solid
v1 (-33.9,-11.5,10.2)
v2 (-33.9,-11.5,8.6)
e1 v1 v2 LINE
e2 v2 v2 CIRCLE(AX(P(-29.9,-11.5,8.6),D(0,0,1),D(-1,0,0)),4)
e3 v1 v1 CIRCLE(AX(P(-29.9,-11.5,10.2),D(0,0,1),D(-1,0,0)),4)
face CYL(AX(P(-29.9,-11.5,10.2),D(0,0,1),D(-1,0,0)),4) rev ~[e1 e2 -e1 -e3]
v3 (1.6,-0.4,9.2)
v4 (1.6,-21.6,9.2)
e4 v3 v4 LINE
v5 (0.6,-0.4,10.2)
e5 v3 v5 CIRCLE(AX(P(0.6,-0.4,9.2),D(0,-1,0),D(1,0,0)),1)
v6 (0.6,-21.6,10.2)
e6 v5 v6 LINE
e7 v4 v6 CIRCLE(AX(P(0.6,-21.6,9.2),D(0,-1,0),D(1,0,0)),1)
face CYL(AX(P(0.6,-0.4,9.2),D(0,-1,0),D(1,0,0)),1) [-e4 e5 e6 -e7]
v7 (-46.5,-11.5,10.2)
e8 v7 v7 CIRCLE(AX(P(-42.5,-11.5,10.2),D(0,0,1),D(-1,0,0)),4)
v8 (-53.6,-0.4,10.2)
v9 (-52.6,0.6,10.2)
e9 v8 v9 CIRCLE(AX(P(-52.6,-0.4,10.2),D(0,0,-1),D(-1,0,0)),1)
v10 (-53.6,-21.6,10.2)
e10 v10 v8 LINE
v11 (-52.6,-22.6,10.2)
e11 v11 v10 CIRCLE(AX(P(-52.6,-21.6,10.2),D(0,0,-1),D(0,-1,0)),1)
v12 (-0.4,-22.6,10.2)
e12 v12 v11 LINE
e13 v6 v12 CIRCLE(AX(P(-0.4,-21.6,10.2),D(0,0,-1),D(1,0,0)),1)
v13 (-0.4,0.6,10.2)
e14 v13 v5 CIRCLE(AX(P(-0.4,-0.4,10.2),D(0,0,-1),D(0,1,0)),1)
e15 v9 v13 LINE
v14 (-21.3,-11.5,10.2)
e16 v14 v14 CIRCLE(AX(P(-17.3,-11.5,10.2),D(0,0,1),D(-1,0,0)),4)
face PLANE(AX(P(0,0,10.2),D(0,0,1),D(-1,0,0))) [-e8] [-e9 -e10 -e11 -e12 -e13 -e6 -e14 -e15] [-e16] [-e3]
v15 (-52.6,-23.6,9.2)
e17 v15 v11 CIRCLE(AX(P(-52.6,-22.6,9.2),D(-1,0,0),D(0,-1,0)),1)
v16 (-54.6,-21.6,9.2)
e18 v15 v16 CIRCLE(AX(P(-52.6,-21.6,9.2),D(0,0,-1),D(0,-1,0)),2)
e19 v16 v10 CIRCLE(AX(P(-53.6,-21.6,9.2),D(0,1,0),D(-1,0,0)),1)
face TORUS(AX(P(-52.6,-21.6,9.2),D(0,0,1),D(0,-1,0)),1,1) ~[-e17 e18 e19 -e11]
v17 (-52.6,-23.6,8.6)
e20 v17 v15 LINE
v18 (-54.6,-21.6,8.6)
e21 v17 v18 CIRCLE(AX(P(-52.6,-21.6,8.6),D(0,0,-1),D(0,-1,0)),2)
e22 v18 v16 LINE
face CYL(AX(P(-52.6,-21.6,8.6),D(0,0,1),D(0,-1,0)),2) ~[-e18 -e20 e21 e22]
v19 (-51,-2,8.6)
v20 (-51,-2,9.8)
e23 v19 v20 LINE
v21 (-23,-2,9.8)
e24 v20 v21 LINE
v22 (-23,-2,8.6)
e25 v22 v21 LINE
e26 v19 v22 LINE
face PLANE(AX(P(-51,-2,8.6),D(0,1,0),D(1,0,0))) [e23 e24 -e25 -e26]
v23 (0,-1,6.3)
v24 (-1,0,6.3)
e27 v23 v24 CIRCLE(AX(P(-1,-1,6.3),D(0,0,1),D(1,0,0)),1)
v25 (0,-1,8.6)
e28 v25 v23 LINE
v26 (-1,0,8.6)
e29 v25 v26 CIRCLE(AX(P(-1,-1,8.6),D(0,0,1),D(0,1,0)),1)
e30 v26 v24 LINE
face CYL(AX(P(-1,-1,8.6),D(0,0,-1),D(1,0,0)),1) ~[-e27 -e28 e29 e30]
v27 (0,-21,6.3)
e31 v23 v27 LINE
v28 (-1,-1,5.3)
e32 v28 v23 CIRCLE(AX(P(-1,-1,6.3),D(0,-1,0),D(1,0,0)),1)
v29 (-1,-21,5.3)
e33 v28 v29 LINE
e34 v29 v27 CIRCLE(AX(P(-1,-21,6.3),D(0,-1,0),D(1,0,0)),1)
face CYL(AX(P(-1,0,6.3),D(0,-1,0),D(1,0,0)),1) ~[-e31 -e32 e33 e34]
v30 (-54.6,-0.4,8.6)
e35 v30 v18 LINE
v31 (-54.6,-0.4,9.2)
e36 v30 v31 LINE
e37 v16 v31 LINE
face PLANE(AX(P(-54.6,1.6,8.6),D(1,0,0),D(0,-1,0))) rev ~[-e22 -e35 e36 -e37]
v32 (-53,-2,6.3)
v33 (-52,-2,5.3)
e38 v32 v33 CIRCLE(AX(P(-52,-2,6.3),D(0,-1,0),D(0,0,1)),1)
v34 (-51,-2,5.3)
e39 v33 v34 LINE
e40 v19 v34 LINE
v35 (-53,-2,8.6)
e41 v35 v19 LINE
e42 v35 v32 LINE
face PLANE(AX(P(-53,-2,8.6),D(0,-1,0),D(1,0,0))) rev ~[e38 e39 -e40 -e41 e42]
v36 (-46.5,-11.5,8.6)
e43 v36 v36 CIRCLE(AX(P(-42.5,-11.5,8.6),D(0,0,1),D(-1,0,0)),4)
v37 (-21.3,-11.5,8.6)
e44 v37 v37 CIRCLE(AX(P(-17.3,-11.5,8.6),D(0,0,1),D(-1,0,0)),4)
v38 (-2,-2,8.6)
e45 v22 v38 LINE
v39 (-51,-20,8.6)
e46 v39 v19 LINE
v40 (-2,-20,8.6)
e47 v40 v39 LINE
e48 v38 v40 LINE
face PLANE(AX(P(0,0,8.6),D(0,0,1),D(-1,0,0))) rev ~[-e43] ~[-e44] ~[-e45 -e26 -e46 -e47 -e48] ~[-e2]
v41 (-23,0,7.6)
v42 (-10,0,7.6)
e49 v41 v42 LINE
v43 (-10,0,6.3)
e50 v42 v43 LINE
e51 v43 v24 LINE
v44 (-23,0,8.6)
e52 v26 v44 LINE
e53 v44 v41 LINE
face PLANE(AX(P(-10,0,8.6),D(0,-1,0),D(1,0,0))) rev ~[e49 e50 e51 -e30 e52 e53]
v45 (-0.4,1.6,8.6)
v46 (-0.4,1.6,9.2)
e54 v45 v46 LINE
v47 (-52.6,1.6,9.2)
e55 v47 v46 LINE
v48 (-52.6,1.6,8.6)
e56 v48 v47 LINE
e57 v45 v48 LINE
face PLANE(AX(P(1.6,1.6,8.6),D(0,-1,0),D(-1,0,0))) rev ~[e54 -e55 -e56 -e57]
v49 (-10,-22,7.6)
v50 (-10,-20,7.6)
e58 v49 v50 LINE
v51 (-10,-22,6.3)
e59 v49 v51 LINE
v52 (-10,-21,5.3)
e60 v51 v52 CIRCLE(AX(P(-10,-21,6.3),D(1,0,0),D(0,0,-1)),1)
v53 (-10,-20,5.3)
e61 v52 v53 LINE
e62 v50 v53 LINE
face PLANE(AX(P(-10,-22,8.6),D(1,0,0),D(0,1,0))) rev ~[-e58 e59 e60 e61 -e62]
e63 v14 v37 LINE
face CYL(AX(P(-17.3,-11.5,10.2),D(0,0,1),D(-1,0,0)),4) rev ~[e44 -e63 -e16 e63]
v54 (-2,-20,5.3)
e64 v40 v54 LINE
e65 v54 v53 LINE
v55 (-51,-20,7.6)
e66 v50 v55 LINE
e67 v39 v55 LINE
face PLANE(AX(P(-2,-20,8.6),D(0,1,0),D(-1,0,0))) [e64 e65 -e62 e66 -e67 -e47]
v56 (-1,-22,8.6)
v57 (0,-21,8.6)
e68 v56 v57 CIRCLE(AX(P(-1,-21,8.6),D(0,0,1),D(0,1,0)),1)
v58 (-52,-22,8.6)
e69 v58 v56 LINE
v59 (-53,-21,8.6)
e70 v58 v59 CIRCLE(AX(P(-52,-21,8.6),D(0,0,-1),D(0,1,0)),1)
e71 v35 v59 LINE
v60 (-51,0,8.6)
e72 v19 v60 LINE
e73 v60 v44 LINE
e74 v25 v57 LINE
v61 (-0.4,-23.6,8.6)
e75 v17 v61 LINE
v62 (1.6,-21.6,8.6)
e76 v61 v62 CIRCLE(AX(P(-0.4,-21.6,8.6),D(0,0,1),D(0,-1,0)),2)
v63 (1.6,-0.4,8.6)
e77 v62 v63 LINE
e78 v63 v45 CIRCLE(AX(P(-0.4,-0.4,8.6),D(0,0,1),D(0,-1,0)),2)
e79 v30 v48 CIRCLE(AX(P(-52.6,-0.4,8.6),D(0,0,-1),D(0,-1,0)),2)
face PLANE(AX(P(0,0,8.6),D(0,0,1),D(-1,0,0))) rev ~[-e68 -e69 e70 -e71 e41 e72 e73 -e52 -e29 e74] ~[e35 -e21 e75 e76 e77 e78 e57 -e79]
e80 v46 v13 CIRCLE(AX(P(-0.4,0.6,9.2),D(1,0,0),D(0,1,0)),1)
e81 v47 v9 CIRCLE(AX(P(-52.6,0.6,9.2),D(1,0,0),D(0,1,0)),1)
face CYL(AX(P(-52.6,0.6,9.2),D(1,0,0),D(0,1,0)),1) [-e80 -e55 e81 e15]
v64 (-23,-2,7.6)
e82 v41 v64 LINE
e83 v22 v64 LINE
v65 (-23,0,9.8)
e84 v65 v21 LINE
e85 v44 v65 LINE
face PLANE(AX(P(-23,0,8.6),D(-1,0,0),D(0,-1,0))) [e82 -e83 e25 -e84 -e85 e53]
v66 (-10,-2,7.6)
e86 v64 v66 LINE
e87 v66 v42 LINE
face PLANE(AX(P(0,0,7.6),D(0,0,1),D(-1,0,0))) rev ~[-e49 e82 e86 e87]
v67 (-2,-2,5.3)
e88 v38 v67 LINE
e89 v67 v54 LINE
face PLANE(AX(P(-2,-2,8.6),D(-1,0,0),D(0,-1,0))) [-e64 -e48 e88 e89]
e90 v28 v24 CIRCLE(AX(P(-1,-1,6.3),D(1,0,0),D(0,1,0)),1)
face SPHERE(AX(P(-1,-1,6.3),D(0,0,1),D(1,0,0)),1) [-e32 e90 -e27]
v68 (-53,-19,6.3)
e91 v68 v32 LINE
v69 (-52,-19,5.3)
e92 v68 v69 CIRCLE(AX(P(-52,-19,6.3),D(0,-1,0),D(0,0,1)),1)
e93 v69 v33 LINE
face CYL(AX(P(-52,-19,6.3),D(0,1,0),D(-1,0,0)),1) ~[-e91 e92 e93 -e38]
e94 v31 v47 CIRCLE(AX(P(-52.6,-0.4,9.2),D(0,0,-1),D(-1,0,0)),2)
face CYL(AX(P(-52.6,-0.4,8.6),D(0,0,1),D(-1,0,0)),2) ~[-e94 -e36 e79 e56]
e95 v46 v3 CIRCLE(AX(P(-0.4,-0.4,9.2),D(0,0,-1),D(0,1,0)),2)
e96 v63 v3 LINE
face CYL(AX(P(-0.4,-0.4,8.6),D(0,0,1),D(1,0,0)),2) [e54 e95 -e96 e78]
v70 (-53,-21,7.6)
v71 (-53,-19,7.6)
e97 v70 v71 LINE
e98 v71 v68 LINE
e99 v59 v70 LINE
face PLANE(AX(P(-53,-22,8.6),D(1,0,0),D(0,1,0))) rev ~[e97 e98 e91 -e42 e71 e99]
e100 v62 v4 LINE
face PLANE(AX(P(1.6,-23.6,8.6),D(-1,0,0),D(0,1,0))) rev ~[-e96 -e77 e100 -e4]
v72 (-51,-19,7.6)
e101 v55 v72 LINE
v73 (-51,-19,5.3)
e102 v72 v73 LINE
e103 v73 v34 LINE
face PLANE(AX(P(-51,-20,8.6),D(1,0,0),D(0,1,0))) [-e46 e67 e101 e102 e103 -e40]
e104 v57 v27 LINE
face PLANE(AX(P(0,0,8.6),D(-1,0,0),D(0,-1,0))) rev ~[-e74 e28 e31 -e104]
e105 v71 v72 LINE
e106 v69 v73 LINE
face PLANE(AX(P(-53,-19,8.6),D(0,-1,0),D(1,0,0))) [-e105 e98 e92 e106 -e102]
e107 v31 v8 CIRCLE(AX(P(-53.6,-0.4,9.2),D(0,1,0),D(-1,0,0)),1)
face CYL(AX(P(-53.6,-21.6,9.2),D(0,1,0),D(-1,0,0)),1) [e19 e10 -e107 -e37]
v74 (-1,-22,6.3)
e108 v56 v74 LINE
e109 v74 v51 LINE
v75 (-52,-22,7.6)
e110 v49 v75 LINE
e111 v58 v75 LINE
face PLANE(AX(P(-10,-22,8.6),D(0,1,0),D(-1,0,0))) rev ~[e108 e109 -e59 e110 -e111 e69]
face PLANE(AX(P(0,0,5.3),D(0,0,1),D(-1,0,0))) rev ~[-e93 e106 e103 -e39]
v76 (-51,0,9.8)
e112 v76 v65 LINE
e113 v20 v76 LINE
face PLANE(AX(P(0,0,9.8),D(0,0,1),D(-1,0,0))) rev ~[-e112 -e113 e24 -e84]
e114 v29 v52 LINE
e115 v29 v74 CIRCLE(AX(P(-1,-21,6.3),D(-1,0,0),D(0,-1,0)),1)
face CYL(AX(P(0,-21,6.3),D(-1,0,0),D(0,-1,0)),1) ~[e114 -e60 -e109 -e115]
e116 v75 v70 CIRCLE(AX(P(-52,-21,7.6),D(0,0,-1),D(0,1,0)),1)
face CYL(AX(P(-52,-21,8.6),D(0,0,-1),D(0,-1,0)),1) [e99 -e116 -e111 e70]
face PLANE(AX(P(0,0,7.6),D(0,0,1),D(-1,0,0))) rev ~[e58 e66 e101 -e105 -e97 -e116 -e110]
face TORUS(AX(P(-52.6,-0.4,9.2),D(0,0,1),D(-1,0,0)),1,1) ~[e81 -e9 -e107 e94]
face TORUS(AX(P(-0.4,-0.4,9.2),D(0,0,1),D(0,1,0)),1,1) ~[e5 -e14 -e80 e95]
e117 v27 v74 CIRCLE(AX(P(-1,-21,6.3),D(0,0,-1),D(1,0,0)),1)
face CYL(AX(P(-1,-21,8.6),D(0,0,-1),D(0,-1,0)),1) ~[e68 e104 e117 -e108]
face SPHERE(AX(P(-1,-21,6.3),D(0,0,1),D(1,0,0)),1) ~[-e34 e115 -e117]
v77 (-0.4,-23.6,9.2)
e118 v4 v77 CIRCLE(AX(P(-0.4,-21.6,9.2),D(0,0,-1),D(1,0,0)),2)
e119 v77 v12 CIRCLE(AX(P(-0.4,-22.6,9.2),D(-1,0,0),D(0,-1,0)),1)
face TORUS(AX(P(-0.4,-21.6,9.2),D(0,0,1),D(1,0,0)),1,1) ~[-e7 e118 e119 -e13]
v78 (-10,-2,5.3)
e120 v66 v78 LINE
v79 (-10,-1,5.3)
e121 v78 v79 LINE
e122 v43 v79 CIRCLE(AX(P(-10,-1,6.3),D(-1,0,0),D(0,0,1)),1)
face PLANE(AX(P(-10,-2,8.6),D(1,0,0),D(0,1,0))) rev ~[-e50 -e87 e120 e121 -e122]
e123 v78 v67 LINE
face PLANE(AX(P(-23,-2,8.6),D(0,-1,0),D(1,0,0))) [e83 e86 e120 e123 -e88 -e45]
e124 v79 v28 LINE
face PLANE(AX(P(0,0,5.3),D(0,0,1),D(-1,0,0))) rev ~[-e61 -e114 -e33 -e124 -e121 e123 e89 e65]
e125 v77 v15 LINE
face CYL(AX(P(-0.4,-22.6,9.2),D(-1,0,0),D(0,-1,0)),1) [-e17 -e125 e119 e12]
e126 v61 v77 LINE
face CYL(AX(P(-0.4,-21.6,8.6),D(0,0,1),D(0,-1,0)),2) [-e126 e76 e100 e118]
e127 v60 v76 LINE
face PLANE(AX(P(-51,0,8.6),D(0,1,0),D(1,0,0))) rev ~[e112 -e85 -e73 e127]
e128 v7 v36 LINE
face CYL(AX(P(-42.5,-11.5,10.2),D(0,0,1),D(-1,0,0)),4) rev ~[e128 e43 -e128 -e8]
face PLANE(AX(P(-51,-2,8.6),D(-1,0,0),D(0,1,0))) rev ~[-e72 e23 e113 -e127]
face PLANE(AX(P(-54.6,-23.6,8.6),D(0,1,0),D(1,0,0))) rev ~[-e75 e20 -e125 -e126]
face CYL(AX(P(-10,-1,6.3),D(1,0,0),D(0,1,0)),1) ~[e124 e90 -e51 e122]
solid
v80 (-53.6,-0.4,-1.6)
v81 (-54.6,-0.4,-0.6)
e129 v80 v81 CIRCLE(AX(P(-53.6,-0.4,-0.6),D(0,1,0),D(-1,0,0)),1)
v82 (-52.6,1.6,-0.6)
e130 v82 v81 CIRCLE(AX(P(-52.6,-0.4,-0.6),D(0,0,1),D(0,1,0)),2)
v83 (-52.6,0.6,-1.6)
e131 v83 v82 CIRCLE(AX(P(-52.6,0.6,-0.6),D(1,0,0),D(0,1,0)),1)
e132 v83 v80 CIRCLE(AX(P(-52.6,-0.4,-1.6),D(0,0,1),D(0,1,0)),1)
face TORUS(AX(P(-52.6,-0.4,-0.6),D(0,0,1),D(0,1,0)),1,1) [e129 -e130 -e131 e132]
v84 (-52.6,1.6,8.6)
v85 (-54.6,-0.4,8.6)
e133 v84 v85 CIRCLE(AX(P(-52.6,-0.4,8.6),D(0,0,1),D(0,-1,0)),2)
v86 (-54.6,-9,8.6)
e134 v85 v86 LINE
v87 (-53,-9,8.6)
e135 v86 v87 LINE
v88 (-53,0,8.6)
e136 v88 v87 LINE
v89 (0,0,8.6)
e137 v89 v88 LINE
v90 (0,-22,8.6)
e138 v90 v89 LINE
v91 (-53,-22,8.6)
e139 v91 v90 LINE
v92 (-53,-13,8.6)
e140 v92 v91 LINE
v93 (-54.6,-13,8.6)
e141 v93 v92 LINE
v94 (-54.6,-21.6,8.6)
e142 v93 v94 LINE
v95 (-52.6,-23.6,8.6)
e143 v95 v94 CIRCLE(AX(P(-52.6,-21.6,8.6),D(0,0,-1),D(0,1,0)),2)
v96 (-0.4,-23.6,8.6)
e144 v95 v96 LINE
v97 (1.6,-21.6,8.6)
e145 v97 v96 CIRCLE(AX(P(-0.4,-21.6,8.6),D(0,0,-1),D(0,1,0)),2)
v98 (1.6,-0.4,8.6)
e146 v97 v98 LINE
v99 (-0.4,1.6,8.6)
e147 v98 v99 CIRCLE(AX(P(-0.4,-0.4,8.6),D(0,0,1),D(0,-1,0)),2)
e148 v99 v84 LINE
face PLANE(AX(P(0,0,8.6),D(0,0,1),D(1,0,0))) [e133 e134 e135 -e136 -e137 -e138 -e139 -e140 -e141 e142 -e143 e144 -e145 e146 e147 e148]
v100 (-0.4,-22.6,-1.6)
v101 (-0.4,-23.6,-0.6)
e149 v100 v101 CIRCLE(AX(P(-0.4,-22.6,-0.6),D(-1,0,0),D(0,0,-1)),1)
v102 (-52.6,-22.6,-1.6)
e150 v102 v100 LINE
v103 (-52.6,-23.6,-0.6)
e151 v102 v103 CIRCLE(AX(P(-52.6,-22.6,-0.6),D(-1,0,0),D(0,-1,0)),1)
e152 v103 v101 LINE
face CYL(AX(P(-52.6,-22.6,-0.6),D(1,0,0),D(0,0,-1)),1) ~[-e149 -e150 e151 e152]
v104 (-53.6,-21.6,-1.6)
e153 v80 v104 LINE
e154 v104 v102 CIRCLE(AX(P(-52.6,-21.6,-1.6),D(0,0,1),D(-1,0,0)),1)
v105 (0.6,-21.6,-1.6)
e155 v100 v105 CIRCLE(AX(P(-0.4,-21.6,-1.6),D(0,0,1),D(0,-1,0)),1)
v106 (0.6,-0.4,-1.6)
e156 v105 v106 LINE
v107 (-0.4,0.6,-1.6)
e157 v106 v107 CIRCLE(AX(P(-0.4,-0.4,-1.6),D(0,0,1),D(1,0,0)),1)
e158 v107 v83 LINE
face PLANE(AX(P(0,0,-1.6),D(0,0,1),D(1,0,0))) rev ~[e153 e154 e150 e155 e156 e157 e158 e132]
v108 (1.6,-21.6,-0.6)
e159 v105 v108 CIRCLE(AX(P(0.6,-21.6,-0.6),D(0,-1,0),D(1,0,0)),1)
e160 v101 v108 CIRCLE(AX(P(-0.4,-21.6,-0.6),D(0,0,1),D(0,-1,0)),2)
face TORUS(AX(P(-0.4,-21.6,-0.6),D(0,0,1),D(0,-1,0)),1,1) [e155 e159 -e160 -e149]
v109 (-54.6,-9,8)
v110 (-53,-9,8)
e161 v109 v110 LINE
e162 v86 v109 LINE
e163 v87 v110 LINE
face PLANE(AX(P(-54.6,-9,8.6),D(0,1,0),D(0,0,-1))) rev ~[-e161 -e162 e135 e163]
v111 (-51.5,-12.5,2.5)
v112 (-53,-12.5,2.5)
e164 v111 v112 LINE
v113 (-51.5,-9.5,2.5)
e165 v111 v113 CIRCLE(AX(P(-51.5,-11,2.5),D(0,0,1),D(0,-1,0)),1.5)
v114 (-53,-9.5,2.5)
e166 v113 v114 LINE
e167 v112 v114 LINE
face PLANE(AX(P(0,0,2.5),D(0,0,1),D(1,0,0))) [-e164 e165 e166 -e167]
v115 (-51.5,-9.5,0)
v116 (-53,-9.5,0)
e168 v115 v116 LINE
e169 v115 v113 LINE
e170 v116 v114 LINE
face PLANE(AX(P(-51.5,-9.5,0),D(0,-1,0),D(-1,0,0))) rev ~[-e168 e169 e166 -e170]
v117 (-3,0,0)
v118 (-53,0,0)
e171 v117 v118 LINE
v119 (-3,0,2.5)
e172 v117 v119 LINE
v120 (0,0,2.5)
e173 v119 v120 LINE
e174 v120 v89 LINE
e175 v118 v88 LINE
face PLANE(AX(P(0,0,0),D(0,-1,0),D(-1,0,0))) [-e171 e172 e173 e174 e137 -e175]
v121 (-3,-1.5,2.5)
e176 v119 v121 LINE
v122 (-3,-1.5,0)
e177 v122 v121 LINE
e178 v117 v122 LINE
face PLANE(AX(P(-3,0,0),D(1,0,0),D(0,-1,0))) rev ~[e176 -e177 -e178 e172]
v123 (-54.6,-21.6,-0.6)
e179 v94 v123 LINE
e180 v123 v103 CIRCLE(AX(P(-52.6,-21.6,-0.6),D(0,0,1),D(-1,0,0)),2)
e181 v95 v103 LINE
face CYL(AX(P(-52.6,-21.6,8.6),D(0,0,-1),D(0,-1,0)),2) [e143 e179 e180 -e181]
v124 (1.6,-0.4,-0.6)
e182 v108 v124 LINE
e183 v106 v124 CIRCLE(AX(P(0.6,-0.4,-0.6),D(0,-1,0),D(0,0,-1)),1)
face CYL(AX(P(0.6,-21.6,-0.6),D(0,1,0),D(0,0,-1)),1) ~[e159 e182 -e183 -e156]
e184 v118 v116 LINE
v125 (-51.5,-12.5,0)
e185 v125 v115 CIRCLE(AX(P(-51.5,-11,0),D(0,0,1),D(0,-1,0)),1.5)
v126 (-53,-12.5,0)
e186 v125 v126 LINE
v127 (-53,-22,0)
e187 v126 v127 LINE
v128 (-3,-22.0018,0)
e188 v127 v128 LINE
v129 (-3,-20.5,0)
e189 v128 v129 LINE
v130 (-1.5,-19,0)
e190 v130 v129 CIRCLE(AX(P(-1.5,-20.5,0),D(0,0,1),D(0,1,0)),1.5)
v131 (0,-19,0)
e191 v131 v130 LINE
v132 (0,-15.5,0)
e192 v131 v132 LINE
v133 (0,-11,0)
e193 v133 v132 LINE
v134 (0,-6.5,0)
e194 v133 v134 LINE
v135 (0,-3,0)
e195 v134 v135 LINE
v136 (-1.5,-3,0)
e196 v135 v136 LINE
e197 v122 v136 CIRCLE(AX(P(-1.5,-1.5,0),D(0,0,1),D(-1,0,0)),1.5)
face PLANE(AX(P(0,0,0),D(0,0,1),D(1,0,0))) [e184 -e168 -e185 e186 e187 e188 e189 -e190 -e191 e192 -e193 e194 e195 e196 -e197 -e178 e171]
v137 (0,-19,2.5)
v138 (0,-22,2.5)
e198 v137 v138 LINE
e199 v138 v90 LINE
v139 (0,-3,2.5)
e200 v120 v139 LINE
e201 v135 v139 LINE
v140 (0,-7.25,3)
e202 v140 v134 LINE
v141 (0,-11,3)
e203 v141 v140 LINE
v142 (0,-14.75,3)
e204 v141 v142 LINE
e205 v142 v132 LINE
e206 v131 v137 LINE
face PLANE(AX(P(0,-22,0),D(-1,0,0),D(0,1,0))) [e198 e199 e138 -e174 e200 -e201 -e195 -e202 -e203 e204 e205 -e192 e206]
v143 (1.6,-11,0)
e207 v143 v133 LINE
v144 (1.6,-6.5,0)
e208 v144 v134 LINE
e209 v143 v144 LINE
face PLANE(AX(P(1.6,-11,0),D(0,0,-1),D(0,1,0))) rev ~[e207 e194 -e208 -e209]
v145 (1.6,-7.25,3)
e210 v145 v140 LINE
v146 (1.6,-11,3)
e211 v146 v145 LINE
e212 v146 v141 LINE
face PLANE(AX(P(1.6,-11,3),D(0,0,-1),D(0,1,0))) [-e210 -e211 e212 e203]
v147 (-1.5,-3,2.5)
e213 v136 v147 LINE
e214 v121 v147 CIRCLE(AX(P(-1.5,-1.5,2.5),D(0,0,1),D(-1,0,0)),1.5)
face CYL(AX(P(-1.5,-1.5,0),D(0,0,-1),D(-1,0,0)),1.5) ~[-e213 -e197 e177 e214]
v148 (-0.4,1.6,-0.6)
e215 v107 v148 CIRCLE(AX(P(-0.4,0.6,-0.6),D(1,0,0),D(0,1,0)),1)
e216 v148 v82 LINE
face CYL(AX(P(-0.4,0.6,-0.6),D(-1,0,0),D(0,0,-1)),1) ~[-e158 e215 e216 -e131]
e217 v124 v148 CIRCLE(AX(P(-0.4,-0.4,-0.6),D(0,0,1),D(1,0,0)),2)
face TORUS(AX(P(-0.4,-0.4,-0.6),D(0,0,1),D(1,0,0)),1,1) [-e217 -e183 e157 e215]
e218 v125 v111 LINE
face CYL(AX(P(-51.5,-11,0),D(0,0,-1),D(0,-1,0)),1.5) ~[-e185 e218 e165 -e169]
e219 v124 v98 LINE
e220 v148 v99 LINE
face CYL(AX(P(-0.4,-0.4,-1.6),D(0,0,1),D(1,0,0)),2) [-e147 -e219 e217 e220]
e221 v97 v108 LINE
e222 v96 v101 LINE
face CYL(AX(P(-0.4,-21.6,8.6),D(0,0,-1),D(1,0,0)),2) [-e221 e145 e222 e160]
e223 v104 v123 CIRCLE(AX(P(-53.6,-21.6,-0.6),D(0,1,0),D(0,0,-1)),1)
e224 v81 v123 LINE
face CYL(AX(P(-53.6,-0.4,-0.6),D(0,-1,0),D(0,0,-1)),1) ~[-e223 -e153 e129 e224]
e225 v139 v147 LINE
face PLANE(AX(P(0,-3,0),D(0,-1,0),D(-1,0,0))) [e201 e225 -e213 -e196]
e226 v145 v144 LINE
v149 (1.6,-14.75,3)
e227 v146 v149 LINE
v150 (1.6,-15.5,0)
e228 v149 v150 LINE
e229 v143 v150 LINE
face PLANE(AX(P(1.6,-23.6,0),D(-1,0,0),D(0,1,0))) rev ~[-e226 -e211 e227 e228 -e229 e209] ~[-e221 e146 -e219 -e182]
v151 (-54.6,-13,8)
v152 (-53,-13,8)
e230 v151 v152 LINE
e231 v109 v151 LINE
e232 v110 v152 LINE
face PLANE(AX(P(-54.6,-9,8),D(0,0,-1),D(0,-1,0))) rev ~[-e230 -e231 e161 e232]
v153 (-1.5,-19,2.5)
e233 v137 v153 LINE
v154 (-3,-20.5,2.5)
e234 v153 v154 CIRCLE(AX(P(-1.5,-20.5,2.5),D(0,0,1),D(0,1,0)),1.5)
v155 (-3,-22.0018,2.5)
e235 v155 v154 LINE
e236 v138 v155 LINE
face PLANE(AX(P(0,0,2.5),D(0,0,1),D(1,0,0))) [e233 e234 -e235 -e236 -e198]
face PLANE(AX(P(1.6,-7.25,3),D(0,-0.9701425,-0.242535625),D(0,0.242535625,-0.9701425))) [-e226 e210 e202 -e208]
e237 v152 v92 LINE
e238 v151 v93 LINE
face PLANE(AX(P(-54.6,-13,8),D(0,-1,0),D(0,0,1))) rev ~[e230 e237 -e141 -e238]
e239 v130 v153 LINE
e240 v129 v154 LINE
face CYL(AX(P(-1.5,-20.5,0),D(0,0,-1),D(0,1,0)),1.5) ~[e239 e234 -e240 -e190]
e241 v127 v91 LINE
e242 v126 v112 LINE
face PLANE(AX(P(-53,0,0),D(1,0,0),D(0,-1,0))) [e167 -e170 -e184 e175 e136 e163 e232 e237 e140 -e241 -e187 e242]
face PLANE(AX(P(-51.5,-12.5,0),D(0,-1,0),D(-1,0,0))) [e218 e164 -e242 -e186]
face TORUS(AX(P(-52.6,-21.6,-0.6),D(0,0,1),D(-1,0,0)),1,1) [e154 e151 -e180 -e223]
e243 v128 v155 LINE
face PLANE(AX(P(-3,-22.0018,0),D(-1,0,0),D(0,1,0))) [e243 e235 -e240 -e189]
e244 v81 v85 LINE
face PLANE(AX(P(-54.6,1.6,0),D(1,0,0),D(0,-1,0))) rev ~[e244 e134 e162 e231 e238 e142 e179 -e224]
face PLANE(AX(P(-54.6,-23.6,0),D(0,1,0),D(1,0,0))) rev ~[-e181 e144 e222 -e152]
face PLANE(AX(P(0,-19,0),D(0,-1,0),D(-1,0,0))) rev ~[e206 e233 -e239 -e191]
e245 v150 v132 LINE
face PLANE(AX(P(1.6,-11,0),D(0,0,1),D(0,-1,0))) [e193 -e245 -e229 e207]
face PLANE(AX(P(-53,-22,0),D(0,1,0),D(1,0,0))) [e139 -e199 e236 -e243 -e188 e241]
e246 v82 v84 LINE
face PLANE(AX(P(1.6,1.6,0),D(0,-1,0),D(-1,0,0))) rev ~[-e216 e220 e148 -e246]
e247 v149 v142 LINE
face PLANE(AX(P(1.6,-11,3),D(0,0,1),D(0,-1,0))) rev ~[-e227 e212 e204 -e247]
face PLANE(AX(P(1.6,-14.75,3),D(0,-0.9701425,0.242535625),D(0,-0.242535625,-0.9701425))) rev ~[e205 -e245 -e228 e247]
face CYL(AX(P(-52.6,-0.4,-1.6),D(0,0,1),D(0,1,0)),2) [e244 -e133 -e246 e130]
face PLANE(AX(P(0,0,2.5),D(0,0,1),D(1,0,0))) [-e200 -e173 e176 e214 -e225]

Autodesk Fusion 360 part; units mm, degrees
sketch "Sketch1" plane through (0, 0, 0) normal (0, 0, 1) x (1, 0, 0) in component "bottom"
  line L0 (0, 0) -> (-53, 0)
  line L1 (-53, 0) -> (-53, -22)
  line L2 (-53, -22) -> (0, -22)
  line L3 (0, -22) -> (0, 0)
  line L4 (1.6, 1.6) -> (-54.6, 1.6)
  line L5 (-54.6, 1.6) -> (-54.6, -23.6)
  line L6 (-54.6, -23.6) -> (1.6, -23.6)
  line L7 (1.6, -23.6) -> (1.6, 1.6)
  dimension "d1" = 53
  dimension "d2" = 22
  dimension "d3" = 1.6
extrude "Extrude1" add sketch "Sketch1" against normal blind 1.6 contours L0 L1 L2 L3 | L4 L5 L6 L7 makes body 1 in component "bottom"
extrude "Extrude2" add sketch "Sketch1" along normal blind 8.6 bodies 1 in component "bottom"
sketch "Sketch3" plane through (0, 0, 0) normal (0, 0, 1) x (1, 0, 0) in component "bottom"
  line L0 (0, 0) -> (-1.5, 0) construction
  line L1 (-1.5, 0) -> (-1.5, -1.5) construction
  line L2 (-1.5, -1.5) -> (0, -1.5) construction
  line L3 (0, -1.5) -> (0, 0) construction
  line L4 (0, -22) -> (-1.5, -22) construction
  line L5 (-1.5, -22) -> (-1.5, -20.5) construction
  line L6 (-1.5, -20.5) -> (0, -20.5) construction
  line L7 (0, -20.5) -> (0, -22) construction
  line L8 (-53, 0) -> (-51.5, 0) construction
  line L9 (-51.5, 0) -> (-51.5, -22) construction
  line L10 (-51.5, -22) -> (-53, -22) construction
  line L11 (-51.5, -9.5) -> (-53, -9.5)
  line L12 (-51.5, -12.5) -> (-53, -12.5)
  line L13 (-3, 0) -> (-3, -1.5)
  line L14 (0, -3) -> (-1.5, -3)
  line L15 (0, -19) -> (-1.5, -19)
  line L16 (-3, -22.0018) -> (-3, -20.5)
  arc A0 (-1.5, -19) -> (-3, -20.5) centre (-1.5, -20.5) ccw
  line L17 (0, -22) -> (-53, -22)
  line L18 (-53, -22) -> (-53, 0)
  line L19 (-53, 0) -> (0, 0)
  line L20 (0, 0) -> (0, -22)
  arc A1 (-51.5, -12.5) -> (-51.5, -9.5) centre (-51.5, -11) ccw
  line L21 (-53, -22) -> (-53, -11) construction
  line L22 (-53, -9.5) -> (-53, 0) construction
  arc A2 (-3, -1.5) -> (-1.5, -3) centre (-1.5, -1.5) ccw
  dimension "d15" = 1.5
  dimension "d16" = 1.5
  dimension "d17" = 3
  dimension "d18" = 1.5
  dimension "d19" = 1.5
  dimension "d20" = 3
  dimension "d21" = 1.5
  dimension "d22" = 22
  dimension "d23" = 3
extrude "Extrude4" add sketch "Sketch3" along normal blind 2.5 contours L11 L12 L18 A1 | L13 L14 L19 L20 A2 | L15 L16 A0 L17 L20 bodies 1 in component "bottom"
sketch "Sketch1 (2)" plane through (0, 0, 8.6) normal (0, 0, 1) x (-1, 0, 0) in component "top"
  line L0 (0, 0) -> (0, 22)
  line L1 (0, 22) -> (53, 22)
  line L2 (53, 22) -> (53, 0)
  line L3 (53, 0) -> (0, 0)
  line L4 (-1.6, 23.6) -> (-1.6, -1.6)
  line L5 (-1.6, -1.6) -> (54.6, -1.6)
  line L6 (54.6, -1.6) -> (54.6, 23.6)
  line L7 (54.6, 23.6) -> (-1.6, 23.6)
  line L8 (-1.6, -1.6) -> (54.6, -1.6)
  line L9 (-1.6, 23.6) -> (-1.6, -1.6)
  line L10 (54.6, 23.6) -> (-1.6, 23.6)
  line L11 (53, 2) -> (2, 2)
  line L12 (2, 2) -> (2, 20)
  line L13 (2, 20) -> (51, 20)
  line L14 (51, 20) -> (51, 2)
  line L15 (0, 22) -> (10, 22) construction
  line L16 (10, 22) -> (10, 0)
  line L17 (53, 22) -> (50, 22) construction
  line L18 (50, 22) -> (50, 19) construction
  line L19 (50, 19) -> (53, 19) construction
  line L20 (53, 19) -> (53, 22) construction
  line L21 (53, 19) -> (51, 19)
  line L22 (51, 2) -> (51, 0)
  line L23 (53, 0) -> (23, 0) construction
  line L24 (23, 0) -> (23, 2)
  dimension "d29" = 10
  dimension "d30" = 3
  dimension "d31" = 3
  dimension "d77" = 30
extrude "Extrude1'" add sketch "Sketch1 (2)" along normal blind 1.6 separate body contours L0 L1 L3 L11 L12 L13 L16 | L3 L11 L16 L24 | L1 L2 L13 L14 L16 L21 | L3 L11 L22 L24 | L11 L13 L14 L16 | L11 L12 L13 L16 | L2 L3 L11 L22 | L2 L11 L14 L21 | L4 L5 L6 L7 L8 L9 L10 makes body 2 in component "top"
extrude "Extrude2'" add sketch "Sketch1 (2)" against normal blind 3.3 contours L0 L1 L3 L11 L12 L13 L16 | L2 L11 L14 L21 bodies 2 in component "top"
extrude "Extrude3" add sketch "Sketch1 (2)" against normal blind 1 contours L3 L11 L16 L24 | L1 L2 L13 L14 L16 L21 bodies 2 in component "top"
extrude "Extrude7" cut sketch "Sketch1 (2)" along normal blind 1.2 contours L3 L11 L22 L24 bodies 2 in component "top"
sketch "Sketch2" plane through (0, 0, 10.2) normal (0, 0, 1) x (-1, 0, 0) in component "top"
  line L0 (54.6, 23.6) -> (-1.6, 23.6)
  line L1 (-1.6, 23.6) -> (-1.6, -1.6)
  line L2 (-1.6, -1.6) -> (54.6, -1.6)
  line L3 (54.6, -1.6) -> (54.6, 23.6)
  line L4 (53, 0) -> (46, 0) construction
  line L5 (46, 0) -> (46, 8) construction
  line L6 (46, 8) -> (53, 8) construction
  line L7 (53, 8) -> (53, 0) construction
  line L8 (46, 8) -> (42.5, 8) construction
  line L9 (42.5, 8) -> (42.5, 11.5) construction
  line L10 (42.5, 11.5) -> (46, 11.5) construction
  line L11 (46, 11.5) -> (46, 8) construction
  circle A0 centre (42.5, 11.5) radius 4
  circle A1 centre (29.9, 11.5) radius 4
  circle A2 centre (17.3, 11.5) radius 4
  dimension "d36" = 7
  dimension "d37" = 8
  dimension "d38" = 3.5
  dimension "d39" = 3.5
  dimension "d40" = 8
  dimension "d43" = -25.2
  dimension "d44" = 0
extrude "Extrude4'" cut sketch "Sketch2" against normal blind 2 contours A0 | A1 | A2 bodies 2 in component "top"
fillet "Fillet1" radius 2 4 edges at (1.6, -23.6, 9.4) (1.6, 1.6, 9.4) (-54.6, 1.6, 9.4) (-54.6, -23.6, 9.4) on bodies 2 in component "top"
fillet "Fillet2" radius 1 8 edges at (-54.0142, 1.0142, 10.2) (-54.6, -11, 10.2) (-54.0142, -23.0142, 10.2) (-26.5, -23.6, 10.2) (1.0142, -23.0142, 10.2) (1.6, -11, 10.2) (1.0142, 1.0142, 10.2) (-26.5, 1.6, 10.2) on bodies 2 in component "top"
fillet "Fillet3" radius 1 3 edges at (0, -22, 6.95) (-53, -22, 8.1) (0, 0, 6.95) on bodies 2 in component "top"
fillet "Fillet3" radius 1 2 edges at (-53, -10.5, 5.3) (0, -11, 5.3) on bodies 2 in component "top"
fillet "Fillet3" radius 1 2 edges at (-5, 0, 5.3) (-5, -22, 5.3) on bodies 2 in component "top"
sketch "Sketch5" plane through (1.6, 0, 0) normal (1, 0, 0) x (0, 1, 0) in component "bottom"
  line L0 (-23.6, 8.6) -> (-23.6, -1.6)
  line L1 (-23.6, -1.6) -> (1.6, -1.6)
  line L2 (1.6, -1.6) -> (1.6, 8.6)
  line L3 (1.6, 8.6) -> (-23.6, 8.6)
  line L4 (-11, 8.6) -> (-11, 0) construction
  line L5 (-11, 0) -> (-6.5, 0)
  line L6 (-11, 0) -> (-15.5, 0)
  line L7 (-11, 0) -> (-11, 3) construction
  line L8 (-11, 3) -> (-7.25, 3)
  line L9 (-11, 3) -> (-14.75, 3)
  line L10 (-14.75, 3) -> (-15.5, 0)
  line L11 (-7.25, 3) -> (-6.5, 0)
  dimension "d69" = 4.5
  dimension "d70" = 4.5
  dimension "d71" = 3
  dimension "d72" = 90
  dimension "d73" = 3.75
  dimension "d74" = 3.75
extrude "Extrude6" cut sketch "Sketch5" against normal blind 1.6 contours L5 L6 L8 L9 L10 L11 bodies 1 in component "bottom"
fillet "Fillet1'" radius 2 4 edges at (1.6, 1.6, 3.5) (1.6, -23.6, 3.5) (-54.6, 1.6, 3.5) (-54.6, -23.6, 3.5) on bodies 1 in component "bottom"
fillet "Fillet2'" radius 1 8 edges at (-54.0142, 1.0142, -1.6) (-26.5, 1.6, -1.6) (1.0142, 1.0142, -1.6) (1.6, -11, -1.6) (1.0142, -23.0142, -1.6) (-26.5, -23.6, -1.6) (-54.0142, -23.0142, -1.6) (-54.6, -11, -1.6) on bodies 1 in component "bottom"
sketch "Sketch4" plane through (-54.6, 0, 0) normal (-1, 0, 0) x (0, -1, 0) in component "bottom"
  line L0 (0.4, -0.6) -> (21.6, -0.6)
  line L1 (21.6, -0.6) -> (21.6, 8.6)
  line L2 (21.6, 8.6) -> (0.4, 8.6)
  line L3 (0.4, 8.6) -> (0.4, -0.6)
  line L4 (11, 8.6) -> (11, 0) construction
  line L5 (11, 8.6) -> (9, 8.6) construction
  line L6 (9, 8.6) -> (9, 8) construction
  line L7 (9, 8) -> (11, 8) construction
  line L8 (11, 8) -> (11, 8.6) construction
  line L9 (9, 8) -> (13, 8)
  line L10 (13, 8) -> (13, 8.6)
  line L11 (13, 8.6) -> (9, 8.6)
  line L12 (9, 8.6) -> (9, 8)
  dimension "d63" = 2
  dimension "d64" = 0.6
  dimension "d65" = 4
  dimension "d66" = 0.6
extrude "Extrude5" cut sketch "Sketch4" against normal blind 1.6 contours L2 L9 L10 L11 L12 bodies 1 in component "bottom"
component "bottom" placed x (1, 0, 0) y (0, 1, 0) z (0, 0, 1) at (0, 0, 0)
component "top" placed x (1, 0, 0) y (0, 1, 0) z (0, 0, 1) at (0, 0, 0)
